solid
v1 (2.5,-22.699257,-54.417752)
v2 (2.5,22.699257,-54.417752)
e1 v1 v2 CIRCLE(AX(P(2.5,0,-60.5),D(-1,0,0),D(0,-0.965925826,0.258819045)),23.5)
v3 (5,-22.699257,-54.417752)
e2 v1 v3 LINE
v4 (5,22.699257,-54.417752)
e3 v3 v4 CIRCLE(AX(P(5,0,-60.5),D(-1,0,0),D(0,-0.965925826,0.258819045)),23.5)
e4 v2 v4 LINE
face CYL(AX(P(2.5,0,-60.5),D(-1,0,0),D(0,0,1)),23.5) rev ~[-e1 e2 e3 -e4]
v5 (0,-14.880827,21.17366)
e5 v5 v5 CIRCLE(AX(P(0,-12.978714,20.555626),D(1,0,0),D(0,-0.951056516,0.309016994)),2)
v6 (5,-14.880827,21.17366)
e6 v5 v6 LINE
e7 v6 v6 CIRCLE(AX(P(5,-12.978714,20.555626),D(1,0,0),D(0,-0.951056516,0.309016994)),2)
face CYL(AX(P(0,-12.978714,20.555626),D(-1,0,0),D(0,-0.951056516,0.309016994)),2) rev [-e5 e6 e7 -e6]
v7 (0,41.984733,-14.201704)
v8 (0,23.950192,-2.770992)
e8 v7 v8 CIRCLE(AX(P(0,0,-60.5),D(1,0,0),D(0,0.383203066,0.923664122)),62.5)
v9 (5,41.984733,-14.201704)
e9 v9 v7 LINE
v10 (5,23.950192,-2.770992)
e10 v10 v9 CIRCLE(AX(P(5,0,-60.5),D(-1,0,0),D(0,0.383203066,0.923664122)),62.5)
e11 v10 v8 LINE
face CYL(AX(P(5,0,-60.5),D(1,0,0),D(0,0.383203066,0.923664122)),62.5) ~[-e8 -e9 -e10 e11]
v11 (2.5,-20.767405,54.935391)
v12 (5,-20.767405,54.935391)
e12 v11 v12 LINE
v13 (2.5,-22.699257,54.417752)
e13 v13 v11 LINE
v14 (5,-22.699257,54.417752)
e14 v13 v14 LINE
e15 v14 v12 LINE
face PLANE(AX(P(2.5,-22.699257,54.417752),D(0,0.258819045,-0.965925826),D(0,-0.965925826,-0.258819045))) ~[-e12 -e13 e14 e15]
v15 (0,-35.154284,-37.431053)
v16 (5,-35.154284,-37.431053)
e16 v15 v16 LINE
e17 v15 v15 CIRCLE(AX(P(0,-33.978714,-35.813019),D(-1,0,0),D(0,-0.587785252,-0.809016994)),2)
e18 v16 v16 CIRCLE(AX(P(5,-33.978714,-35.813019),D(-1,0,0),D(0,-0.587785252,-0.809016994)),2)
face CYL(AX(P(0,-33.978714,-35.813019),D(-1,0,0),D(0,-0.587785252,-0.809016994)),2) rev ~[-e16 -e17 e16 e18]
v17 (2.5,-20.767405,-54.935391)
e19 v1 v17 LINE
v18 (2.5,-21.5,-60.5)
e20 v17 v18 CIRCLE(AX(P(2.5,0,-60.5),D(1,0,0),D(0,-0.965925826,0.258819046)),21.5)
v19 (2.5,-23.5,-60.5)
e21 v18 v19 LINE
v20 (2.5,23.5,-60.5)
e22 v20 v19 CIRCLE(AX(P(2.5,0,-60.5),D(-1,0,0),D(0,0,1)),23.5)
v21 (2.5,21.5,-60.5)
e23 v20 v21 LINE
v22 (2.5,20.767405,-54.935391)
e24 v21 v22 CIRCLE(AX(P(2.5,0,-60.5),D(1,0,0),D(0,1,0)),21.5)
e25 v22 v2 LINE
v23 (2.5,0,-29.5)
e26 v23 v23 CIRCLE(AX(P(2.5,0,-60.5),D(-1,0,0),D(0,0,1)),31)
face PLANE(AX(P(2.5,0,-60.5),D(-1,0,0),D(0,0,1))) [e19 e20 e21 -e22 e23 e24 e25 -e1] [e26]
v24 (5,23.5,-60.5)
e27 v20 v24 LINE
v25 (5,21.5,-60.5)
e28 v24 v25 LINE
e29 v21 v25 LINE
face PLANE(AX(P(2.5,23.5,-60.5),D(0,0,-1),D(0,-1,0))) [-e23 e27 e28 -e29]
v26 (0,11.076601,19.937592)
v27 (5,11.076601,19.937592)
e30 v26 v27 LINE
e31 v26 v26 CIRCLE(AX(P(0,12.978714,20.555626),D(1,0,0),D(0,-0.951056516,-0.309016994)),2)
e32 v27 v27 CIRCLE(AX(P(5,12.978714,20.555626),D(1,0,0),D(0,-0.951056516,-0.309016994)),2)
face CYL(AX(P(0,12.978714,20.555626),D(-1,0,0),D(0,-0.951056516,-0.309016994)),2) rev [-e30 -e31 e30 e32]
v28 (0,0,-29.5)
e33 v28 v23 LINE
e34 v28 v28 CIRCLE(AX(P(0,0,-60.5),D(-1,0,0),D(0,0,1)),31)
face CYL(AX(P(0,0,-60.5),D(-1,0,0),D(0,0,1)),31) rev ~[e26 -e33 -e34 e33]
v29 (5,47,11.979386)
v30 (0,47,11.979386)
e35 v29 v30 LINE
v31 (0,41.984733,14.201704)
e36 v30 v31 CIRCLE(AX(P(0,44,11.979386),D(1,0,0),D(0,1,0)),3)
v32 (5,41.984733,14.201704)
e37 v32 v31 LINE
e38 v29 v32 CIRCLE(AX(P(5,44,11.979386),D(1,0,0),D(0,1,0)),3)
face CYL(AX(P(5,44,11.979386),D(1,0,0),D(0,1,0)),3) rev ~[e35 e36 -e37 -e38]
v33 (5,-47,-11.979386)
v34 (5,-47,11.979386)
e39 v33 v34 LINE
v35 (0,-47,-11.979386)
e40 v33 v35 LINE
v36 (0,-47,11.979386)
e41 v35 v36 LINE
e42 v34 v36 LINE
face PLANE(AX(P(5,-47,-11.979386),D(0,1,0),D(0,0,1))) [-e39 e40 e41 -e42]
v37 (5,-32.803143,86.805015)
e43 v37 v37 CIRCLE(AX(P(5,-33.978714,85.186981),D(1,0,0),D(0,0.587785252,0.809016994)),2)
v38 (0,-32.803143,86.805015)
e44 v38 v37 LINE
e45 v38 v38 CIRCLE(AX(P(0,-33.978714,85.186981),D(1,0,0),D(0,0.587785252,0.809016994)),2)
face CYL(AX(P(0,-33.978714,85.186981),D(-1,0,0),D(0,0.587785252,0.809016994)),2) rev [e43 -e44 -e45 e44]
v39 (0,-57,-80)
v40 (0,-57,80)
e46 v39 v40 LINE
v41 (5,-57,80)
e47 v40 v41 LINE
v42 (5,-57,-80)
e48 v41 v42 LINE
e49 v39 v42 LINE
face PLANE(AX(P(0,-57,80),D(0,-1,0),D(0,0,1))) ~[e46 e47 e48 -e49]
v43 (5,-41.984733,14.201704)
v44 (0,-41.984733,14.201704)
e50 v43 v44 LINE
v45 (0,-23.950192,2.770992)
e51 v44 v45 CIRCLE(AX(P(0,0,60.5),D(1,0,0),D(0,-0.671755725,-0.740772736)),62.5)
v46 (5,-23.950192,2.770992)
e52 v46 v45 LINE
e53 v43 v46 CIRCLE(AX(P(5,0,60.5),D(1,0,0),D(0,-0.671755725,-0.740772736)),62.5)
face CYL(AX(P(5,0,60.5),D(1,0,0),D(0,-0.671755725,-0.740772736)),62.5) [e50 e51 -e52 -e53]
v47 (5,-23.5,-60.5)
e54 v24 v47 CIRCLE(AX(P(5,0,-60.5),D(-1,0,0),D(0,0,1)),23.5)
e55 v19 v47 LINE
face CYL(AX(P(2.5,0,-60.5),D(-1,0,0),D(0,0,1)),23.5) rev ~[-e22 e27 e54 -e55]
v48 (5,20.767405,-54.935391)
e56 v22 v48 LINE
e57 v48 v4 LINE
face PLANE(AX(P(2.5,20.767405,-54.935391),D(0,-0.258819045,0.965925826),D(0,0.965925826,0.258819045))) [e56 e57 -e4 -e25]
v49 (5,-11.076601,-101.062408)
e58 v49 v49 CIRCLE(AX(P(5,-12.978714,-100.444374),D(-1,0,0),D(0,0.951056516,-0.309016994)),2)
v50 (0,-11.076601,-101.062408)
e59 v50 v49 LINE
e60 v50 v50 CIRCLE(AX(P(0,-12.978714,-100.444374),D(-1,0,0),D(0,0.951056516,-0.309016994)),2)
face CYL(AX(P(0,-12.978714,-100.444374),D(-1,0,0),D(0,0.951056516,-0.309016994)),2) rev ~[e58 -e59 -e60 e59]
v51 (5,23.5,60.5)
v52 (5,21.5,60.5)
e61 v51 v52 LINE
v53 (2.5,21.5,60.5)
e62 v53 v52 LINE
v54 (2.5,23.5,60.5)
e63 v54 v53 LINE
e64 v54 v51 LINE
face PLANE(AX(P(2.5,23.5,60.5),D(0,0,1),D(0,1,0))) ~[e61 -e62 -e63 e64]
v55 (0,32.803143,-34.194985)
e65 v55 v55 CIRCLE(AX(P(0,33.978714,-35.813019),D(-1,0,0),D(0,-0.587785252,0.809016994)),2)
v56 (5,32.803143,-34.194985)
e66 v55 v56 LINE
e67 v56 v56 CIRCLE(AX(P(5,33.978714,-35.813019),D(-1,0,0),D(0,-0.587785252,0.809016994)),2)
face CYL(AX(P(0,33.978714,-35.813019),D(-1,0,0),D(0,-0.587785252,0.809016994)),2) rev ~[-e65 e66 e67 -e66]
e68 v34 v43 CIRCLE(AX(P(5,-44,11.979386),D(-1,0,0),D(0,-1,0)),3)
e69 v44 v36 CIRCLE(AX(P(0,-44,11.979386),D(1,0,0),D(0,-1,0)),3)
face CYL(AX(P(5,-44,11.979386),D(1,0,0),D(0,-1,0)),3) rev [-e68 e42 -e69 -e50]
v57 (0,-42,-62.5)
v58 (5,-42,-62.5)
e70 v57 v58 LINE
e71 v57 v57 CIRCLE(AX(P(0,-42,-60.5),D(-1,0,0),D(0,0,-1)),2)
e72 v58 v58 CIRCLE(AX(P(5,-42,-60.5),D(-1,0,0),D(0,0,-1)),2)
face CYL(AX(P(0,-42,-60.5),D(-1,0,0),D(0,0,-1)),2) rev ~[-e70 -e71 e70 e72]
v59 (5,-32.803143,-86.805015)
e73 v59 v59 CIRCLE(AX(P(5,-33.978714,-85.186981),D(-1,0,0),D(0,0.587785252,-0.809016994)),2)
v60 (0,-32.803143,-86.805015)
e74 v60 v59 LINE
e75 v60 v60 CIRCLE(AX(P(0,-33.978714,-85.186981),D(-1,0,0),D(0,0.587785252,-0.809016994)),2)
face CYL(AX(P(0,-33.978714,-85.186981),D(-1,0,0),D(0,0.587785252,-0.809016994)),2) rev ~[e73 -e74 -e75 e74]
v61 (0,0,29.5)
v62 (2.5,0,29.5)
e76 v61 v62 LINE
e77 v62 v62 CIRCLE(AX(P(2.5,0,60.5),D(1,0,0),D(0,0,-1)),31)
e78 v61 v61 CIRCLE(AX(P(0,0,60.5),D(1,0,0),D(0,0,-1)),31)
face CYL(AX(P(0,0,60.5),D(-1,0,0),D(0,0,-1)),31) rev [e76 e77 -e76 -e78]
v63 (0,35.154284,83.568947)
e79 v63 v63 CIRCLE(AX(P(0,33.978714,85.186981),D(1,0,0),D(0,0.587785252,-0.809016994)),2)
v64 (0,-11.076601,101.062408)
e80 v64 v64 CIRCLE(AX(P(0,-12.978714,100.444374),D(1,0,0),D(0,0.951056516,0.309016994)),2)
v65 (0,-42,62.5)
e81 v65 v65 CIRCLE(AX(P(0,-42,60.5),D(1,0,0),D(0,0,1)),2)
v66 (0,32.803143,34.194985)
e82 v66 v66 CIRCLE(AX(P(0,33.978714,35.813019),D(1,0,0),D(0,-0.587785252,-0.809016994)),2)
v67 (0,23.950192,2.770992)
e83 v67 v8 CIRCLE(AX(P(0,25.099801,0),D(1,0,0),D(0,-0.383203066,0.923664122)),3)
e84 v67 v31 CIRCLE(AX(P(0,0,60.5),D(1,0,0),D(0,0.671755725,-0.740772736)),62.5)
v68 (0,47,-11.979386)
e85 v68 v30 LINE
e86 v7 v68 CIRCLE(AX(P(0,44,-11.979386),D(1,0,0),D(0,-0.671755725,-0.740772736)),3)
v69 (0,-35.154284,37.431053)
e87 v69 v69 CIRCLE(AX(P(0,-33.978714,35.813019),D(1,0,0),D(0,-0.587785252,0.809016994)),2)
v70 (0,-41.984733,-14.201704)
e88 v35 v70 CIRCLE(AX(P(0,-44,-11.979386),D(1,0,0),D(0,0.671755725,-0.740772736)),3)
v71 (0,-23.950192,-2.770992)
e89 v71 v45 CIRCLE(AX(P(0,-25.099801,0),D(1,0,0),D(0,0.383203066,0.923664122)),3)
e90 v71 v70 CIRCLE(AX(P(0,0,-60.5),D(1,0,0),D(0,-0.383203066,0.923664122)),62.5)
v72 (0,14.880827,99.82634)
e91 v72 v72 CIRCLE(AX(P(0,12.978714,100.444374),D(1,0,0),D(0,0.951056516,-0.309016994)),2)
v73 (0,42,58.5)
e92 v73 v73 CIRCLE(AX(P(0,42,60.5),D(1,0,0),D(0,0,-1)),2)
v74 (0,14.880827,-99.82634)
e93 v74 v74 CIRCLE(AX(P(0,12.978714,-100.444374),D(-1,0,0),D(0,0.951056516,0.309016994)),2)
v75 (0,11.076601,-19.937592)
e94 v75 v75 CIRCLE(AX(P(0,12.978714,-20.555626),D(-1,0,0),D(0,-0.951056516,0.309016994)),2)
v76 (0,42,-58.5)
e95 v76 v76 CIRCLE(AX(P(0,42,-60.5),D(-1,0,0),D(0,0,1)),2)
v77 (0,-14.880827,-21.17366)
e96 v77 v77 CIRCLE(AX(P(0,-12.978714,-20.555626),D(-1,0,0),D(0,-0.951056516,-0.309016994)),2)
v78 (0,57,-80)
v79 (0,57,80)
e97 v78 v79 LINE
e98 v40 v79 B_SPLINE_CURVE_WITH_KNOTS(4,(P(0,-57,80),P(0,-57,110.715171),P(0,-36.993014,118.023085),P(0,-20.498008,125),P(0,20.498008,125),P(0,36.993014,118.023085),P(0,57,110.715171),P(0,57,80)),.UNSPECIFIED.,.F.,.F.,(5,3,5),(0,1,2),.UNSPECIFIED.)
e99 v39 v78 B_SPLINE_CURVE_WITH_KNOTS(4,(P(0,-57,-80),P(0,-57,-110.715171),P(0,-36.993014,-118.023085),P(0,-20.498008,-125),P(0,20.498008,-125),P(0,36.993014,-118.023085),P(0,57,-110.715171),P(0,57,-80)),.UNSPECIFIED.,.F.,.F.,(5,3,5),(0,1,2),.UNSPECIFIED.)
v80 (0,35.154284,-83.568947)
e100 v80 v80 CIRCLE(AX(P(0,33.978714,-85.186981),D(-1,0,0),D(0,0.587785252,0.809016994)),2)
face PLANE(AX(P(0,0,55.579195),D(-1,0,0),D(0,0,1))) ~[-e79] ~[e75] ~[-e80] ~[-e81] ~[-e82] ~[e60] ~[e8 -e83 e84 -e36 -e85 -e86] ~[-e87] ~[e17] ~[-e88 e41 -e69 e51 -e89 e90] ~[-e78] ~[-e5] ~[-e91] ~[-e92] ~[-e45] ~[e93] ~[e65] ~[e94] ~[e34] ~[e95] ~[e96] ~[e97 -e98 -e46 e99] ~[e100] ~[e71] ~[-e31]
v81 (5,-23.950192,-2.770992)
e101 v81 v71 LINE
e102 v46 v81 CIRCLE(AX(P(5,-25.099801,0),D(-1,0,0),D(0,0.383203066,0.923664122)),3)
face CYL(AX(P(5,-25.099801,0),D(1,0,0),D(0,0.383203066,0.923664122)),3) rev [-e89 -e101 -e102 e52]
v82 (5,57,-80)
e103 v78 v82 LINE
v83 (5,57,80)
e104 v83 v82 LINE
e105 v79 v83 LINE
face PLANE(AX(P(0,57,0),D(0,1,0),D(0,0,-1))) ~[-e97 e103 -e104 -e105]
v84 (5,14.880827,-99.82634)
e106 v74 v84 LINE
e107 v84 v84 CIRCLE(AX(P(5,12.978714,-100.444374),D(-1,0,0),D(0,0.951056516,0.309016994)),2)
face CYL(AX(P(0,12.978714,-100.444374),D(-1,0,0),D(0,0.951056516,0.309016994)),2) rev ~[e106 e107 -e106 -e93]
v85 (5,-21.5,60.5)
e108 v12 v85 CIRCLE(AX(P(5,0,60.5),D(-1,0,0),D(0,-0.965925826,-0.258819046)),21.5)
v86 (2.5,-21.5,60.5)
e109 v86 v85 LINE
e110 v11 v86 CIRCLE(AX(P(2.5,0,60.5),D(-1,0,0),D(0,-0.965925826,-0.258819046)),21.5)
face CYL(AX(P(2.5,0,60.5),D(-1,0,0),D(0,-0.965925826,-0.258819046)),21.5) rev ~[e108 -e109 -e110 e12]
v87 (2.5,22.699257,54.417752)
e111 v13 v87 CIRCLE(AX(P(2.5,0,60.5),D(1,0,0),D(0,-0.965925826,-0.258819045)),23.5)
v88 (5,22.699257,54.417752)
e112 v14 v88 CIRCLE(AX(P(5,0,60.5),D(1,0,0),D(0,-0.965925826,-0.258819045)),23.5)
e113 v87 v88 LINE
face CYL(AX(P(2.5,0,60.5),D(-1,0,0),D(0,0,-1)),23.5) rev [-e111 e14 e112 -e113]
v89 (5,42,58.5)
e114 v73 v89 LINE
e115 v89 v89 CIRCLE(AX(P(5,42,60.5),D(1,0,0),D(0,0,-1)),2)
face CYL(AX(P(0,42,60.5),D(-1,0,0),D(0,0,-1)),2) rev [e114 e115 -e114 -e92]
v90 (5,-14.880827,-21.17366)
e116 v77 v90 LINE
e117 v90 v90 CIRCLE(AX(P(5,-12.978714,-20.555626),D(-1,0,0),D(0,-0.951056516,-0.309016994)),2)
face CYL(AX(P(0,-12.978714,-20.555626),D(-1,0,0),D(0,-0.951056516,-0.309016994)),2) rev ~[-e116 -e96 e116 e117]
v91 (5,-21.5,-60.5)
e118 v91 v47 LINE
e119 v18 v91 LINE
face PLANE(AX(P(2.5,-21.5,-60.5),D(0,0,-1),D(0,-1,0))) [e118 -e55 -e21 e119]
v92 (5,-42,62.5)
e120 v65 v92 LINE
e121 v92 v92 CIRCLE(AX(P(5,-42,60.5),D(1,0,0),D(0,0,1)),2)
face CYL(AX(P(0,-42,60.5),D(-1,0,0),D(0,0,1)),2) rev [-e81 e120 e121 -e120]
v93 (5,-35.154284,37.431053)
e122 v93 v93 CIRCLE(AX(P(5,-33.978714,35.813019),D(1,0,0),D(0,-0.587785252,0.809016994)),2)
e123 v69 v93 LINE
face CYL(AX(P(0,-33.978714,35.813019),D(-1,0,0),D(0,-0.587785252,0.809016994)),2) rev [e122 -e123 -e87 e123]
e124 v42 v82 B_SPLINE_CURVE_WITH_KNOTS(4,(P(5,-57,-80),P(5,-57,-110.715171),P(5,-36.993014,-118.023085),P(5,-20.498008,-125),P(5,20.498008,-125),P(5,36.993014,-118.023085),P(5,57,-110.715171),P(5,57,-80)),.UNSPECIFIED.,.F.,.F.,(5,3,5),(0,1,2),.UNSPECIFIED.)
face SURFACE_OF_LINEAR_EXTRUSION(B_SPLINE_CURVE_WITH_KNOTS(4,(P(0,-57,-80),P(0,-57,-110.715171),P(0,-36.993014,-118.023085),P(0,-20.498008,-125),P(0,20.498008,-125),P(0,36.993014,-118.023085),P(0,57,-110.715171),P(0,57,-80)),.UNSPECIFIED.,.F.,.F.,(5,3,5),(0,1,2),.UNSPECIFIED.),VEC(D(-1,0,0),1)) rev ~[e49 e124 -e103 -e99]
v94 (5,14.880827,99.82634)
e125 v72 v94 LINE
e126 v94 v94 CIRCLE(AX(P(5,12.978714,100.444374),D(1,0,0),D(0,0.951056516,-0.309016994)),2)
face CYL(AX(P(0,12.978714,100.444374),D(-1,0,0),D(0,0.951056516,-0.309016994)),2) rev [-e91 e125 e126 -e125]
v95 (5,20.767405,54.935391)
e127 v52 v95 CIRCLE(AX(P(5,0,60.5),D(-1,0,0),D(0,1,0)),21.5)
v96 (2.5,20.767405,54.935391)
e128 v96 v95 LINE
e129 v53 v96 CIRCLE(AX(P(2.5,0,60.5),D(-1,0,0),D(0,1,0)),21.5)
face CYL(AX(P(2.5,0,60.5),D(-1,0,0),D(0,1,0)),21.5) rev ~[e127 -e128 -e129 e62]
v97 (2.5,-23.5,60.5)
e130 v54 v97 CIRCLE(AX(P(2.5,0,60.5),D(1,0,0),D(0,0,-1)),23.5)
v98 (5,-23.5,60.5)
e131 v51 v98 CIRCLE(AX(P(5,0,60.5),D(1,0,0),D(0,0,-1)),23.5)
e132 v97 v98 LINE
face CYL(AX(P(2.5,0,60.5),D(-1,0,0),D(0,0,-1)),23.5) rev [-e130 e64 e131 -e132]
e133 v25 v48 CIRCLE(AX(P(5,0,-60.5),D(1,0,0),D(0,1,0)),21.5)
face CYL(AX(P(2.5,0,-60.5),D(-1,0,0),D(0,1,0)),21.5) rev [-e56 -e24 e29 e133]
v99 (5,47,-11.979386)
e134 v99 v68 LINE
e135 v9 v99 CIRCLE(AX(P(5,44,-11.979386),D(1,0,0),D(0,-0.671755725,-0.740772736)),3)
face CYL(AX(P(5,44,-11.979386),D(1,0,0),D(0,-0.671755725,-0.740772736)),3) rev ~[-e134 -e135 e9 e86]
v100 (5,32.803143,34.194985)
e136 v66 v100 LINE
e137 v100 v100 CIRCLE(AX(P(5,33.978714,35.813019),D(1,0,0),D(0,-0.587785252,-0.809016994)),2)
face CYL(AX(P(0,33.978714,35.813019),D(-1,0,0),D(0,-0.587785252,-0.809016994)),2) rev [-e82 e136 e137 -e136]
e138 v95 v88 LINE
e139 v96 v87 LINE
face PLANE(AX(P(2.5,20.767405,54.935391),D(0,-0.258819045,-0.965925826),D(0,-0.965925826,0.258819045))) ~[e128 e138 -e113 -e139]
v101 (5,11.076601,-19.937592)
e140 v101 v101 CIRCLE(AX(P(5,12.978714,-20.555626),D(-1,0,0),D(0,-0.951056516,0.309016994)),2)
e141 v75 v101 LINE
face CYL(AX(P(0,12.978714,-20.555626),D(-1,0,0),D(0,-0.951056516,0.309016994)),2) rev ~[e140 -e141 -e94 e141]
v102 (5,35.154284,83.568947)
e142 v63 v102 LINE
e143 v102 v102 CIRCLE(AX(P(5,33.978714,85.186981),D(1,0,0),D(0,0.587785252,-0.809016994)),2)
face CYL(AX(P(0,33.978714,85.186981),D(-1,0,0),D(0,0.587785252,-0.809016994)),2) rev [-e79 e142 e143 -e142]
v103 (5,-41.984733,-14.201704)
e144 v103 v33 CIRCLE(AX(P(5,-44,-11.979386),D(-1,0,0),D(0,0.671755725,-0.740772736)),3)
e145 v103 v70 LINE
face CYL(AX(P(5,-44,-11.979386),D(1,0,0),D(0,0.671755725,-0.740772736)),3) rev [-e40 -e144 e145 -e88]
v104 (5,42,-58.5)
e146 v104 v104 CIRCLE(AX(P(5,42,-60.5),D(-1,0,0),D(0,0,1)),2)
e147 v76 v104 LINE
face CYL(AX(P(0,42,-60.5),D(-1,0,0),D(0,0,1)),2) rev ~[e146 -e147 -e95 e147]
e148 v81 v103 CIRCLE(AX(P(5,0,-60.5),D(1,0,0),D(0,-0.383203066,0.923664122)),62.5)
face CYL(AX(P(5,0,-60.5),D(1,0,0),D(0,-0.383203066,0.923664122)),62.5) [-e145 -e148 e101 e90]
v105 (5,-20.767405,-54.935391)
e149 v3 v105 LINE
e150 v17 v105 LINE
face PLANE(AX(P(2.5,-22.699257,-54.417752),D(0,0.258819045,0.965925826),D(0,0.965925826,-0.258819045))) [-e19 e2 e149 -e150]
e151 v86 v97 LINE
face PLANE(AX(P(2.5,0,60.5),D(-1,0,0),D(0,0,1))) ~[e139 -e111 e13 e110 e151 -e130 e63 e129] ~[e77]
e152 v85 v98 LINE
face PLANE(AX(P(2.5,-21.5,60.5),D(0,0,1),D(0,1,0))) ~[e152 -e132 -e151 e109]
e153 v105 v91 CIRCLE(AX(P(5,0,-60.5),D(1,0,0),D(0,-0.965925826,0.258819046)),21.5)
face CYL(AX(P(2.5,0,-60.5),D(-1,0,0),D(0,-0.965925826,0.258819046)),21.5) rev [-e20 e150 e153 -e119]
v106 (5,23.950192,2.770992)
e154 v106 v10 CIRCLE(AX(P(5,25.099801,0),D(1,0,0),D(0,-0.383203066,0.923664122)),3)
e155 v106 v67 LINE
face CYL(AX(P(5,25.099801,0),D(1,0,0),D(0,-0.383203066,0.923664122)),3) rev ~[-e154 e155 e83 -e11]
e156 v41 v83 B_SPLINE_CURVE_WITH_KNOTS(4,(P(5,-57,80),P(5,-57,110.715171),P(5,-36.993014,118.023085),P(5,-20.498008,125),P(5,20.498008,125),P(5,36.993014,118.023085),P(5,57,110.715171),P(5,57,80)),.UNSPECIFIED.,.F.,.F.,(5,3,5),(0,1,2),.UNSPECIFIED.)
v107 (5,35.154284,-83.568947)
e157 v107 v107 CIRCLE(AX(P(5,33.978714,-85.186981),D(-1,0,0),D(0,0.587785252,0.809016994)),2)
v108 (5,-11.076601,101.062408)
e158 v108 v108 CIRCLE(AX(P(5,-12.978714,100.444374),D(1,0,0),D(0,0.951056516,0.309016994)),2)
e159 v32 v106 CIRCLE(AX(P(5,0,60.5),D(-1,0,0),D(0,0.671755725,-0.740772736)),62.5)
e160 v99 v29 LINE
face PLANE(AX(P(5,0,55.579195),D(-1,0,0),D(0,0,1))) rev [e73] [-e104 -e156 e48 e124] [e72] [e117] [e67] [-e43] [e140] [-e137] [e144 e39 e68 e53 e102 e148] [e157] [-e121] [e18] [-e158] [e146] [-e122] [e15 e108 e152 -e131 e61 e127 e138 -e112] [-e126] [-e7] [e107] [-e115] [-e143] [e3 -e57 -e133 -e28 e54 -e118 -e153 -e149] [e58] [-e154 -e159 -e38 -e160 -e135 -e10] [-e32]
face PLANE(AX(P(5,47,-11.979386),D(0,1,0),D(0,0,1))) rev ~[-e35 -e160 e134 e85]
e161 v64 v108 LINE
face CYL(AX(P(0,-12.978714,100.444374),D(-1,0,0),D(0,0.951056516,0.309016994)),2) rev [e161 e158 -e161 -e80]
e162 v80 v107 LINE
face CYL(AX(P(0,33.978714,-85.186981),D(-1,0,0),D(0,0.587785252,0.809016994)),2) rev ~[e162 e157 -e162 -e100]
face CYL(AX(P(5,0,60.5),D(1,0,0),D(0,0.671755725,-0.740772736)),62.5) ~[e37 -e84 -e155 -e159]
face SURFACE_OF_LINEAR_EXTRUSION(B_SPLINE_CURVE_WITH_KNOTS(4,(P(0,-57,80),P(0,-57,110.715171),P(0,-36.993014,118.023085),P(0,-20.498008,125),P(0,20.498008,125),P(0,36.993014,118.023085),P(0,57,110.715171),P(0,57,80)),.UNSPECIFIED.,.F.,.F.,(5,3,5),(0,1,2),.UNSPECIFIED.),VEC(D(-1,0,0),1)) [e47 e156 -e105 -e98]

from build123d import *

# Parameters (mm, degrees)
EXTRUDE_1_DEPTH          = 5
SKETCH_2_R               = 31
CUT_EXTRUDE_1_DEPTH      = 2.5
CUT_EXTRUDE_2_REACH      = 139.474
SKETCH_3_R               = 2
PATTERN_CIRCULAR_1_COUNT = 10
CUT_EXTRUDE_3_REACH      = 139.405
SKETCH_4_R               = 23.5
EXTRUDE_START            = -2.5
EXTRUDE_3_DEPTH          = 2.5
CUT_EXTRUDE_4_DEPTH      = 10


with BuildPart() as part:
    # 草图1 → 凸台-拉伸1 (new body)
    with BuildSketch(Plane(origin=(0, 0, 0), x_dir=(0, 0, -1), z_dir=(1, 0, 0))):
        with BuildLine():
            Line((0, 57), (80, 57))
            add(Edge.make_bspline(
                [(80, 57), (110.715171184, 57), (118.023084898, 36.99301361), (125, 20.498008369), (125, 0)],
                knots=[0, 0, 0, 0, 0, 1, 1, 1, 1, 1], degree=4))
            add(Edge.make_bspline(
                [(80, -57), (110.715171184, -57), (118.023084898, -36.99301361), (125, -20.498008369), (125, 0)],
                knots=[0, 0, 0, 0, 0, 1, 1, 1, 1, 1], degree=4))
            Line((80, -57), (0, -57))
            Line((0, -57), (0, 57))
        make_face()
    extrude(amount=EXTRUDE_1_DEPTH)

    # 草图2 → 切除-拉伸1 (cut)
    with BuildSketch(Plane.ZY):
        with Locations((-60.5, 0)):
            Circle(SKETCH_2_R)
    extrude(amount=-CUT_EXTRUDE_1_DEPTH, mode=Mode.SUBTRACT)

    # 草图3 → 切除-拉伸2 (cut, up to next)
    with BuildSketch(Plane.ZY, mode=Mode.PRIVATE) as cut_extrude_2_sk1:
        with Locations((-60.5, 42)):
            Circle(SKETCH_3_R)
    cut_extrude_2_tool1 = extrude(cut_extrude_2_sk1.sketch, amount=-CUT_EXTRUDE_2_REACH, mode=Mode.PRIVATE) & part.part
    cut_extrude_2 = cut_extrude_2_tool1.solids().sort_by_distance((0, 42, -60.5))[0]
    add(cut_extrude_2, mode=Mode.SUBTRACT)

    # 阵列(圆周)1: 切除-拉伸2 ×10 about axis
    pattern_circular_1_axis = Axis((0, 0, -60.5), (1, 0, 0))
    for i in range(1, PATTERN_CIRCULAR_1_COUNT):
        add(cut_extrude_2.rotate(pattern_circular_1_axis, i * 360 / PATTERN_CIRCULAR_1_COUNT), mode=Mode.SUBTRACT)

    # 草图4 → 切除-拉伸3 (cut, up to next)
    with BuildSketch(Plane.ZY.offset(-2.5), mode=Mode.PRIVATE) as cut_extrude_3_sk1:
        with Locations((-60.5, 0)):
            Circle(SKETCH_4_R)
    cut_extrude_3_tool1 = extrude(cut_extrude_3_sk1.sketch, amount=-CUT_EXTRUDE_3_REACH, mode=Mode.PRIVATE) & part.part
    add(cut_extrude_3_tool1.solids().sort_by_distance((2.5, 0, -60.5))[0], mode=Mode.SUBTRACT)

    # 草图8 → 凸台-拉伸3 (add)
    with BuildSketch(Plane(origin=(5, 0, 0), x_dir=(0, 0, -1), z_dir=(1, 0, 0)).offset(EXTRUDE_START)):
        with BuildLine():
            Line((54.93539053, 20.767405265), (54.41775244, 22.699256918))
            ThreePointArc((54.41775244, 22.699256918), (57.432634483, 23.298954242), (60.5, 23.5))
            Line((60.5, 23.5), (60.5, 21.5))
            ThreePointArc((60.5, 21.5), (57.693686867, 21.31606452), (54.93539053, 20.767405265))
        make_face()
        with BuildLine():
            Line((60.5, -21.5), (60.5, -23.5))
            ThreePointArc((60.5, -23.5), (57.432634483, -23.298954242), (54.41775244, -22.699256918))
            Line((54.41775244, -22.699256918), (54.93539053, -20.767405265))
            ThreePointArc((54.93539053, -20.767405265), (57.693686867, -21.31606452), (60.5, -21.5))
        make_face()
    extrude(amount=EXTRUDE_3_DEPTH)

    # 镜向3: part across plane


with BuildPart() as part_1:
    add(part.part)
    add(part.part.mirror(Plane(origin=(5, 57, 0), x_dir=(1, 0, 0), z_dir=(0, 0, -1))))

    # 草图10 → 切除-拉伸4 (cut)
    with BuildSketch(Plane(origin=(5, 0, 0), x_dir=(0, 0, -1), z_dir=(1, 0, 0))):
        with BuildLine():
            Line((11.979385824, 47), (-11.979385824, 47))
            ThreePointArc((-11.979385824, 47), (-14.722176513, 45.215359715), (-14.201704031, 41.984732824))
            ThreePointArc((-14.201704031, 41.984732824), (-7.710501584, 33.45921184), (-2.770992366, 23.950191599))
            ThreePointArc((-2.770992366, 23.950191599), (0, 22.099800796), (2.770992366, 23.950191599))
            ThreePointArc((2.770992366, 23.950191599), (7.710501584, 33.45921184), (14.201704031, 41.984732824))
            ThreePointArc((14.201704031, 41.984732824), (14.722176513, 45.215359715), (11.979385824, 47))
        make_face()
        with BuildLine():
            Line((11.979385824, -47), (-11.979385824, -47))
            ThreePointArc((-11.979385824, -47), (-14.722176513, -45.215359715), (-14.201704031, -41.984732824))
            ThreePointArc((-14.201704031, -41.984732824), (-7.710501584, -33.45921184), (-2.770992366, -23.950191599))
            ThreePointArc((-2.770992366, -23.950191599), (0, -22.099800796), (2.770992366, -23.950191599))
            ThreePointArc((2.770992366, -23.950191599), (7.710501584, -33.45921184), (14.201704031, -41.984732824))
            ThreePointArc((14.201704031, -41.984732824), (14.722176513, -45.215359715), (11.979385824, -47))
        make_face()
    extrude(amount=-CUT_EXTRUDE_4_DEPTH, mode=Mode.SUBTRACT)


solid = part_1.part
